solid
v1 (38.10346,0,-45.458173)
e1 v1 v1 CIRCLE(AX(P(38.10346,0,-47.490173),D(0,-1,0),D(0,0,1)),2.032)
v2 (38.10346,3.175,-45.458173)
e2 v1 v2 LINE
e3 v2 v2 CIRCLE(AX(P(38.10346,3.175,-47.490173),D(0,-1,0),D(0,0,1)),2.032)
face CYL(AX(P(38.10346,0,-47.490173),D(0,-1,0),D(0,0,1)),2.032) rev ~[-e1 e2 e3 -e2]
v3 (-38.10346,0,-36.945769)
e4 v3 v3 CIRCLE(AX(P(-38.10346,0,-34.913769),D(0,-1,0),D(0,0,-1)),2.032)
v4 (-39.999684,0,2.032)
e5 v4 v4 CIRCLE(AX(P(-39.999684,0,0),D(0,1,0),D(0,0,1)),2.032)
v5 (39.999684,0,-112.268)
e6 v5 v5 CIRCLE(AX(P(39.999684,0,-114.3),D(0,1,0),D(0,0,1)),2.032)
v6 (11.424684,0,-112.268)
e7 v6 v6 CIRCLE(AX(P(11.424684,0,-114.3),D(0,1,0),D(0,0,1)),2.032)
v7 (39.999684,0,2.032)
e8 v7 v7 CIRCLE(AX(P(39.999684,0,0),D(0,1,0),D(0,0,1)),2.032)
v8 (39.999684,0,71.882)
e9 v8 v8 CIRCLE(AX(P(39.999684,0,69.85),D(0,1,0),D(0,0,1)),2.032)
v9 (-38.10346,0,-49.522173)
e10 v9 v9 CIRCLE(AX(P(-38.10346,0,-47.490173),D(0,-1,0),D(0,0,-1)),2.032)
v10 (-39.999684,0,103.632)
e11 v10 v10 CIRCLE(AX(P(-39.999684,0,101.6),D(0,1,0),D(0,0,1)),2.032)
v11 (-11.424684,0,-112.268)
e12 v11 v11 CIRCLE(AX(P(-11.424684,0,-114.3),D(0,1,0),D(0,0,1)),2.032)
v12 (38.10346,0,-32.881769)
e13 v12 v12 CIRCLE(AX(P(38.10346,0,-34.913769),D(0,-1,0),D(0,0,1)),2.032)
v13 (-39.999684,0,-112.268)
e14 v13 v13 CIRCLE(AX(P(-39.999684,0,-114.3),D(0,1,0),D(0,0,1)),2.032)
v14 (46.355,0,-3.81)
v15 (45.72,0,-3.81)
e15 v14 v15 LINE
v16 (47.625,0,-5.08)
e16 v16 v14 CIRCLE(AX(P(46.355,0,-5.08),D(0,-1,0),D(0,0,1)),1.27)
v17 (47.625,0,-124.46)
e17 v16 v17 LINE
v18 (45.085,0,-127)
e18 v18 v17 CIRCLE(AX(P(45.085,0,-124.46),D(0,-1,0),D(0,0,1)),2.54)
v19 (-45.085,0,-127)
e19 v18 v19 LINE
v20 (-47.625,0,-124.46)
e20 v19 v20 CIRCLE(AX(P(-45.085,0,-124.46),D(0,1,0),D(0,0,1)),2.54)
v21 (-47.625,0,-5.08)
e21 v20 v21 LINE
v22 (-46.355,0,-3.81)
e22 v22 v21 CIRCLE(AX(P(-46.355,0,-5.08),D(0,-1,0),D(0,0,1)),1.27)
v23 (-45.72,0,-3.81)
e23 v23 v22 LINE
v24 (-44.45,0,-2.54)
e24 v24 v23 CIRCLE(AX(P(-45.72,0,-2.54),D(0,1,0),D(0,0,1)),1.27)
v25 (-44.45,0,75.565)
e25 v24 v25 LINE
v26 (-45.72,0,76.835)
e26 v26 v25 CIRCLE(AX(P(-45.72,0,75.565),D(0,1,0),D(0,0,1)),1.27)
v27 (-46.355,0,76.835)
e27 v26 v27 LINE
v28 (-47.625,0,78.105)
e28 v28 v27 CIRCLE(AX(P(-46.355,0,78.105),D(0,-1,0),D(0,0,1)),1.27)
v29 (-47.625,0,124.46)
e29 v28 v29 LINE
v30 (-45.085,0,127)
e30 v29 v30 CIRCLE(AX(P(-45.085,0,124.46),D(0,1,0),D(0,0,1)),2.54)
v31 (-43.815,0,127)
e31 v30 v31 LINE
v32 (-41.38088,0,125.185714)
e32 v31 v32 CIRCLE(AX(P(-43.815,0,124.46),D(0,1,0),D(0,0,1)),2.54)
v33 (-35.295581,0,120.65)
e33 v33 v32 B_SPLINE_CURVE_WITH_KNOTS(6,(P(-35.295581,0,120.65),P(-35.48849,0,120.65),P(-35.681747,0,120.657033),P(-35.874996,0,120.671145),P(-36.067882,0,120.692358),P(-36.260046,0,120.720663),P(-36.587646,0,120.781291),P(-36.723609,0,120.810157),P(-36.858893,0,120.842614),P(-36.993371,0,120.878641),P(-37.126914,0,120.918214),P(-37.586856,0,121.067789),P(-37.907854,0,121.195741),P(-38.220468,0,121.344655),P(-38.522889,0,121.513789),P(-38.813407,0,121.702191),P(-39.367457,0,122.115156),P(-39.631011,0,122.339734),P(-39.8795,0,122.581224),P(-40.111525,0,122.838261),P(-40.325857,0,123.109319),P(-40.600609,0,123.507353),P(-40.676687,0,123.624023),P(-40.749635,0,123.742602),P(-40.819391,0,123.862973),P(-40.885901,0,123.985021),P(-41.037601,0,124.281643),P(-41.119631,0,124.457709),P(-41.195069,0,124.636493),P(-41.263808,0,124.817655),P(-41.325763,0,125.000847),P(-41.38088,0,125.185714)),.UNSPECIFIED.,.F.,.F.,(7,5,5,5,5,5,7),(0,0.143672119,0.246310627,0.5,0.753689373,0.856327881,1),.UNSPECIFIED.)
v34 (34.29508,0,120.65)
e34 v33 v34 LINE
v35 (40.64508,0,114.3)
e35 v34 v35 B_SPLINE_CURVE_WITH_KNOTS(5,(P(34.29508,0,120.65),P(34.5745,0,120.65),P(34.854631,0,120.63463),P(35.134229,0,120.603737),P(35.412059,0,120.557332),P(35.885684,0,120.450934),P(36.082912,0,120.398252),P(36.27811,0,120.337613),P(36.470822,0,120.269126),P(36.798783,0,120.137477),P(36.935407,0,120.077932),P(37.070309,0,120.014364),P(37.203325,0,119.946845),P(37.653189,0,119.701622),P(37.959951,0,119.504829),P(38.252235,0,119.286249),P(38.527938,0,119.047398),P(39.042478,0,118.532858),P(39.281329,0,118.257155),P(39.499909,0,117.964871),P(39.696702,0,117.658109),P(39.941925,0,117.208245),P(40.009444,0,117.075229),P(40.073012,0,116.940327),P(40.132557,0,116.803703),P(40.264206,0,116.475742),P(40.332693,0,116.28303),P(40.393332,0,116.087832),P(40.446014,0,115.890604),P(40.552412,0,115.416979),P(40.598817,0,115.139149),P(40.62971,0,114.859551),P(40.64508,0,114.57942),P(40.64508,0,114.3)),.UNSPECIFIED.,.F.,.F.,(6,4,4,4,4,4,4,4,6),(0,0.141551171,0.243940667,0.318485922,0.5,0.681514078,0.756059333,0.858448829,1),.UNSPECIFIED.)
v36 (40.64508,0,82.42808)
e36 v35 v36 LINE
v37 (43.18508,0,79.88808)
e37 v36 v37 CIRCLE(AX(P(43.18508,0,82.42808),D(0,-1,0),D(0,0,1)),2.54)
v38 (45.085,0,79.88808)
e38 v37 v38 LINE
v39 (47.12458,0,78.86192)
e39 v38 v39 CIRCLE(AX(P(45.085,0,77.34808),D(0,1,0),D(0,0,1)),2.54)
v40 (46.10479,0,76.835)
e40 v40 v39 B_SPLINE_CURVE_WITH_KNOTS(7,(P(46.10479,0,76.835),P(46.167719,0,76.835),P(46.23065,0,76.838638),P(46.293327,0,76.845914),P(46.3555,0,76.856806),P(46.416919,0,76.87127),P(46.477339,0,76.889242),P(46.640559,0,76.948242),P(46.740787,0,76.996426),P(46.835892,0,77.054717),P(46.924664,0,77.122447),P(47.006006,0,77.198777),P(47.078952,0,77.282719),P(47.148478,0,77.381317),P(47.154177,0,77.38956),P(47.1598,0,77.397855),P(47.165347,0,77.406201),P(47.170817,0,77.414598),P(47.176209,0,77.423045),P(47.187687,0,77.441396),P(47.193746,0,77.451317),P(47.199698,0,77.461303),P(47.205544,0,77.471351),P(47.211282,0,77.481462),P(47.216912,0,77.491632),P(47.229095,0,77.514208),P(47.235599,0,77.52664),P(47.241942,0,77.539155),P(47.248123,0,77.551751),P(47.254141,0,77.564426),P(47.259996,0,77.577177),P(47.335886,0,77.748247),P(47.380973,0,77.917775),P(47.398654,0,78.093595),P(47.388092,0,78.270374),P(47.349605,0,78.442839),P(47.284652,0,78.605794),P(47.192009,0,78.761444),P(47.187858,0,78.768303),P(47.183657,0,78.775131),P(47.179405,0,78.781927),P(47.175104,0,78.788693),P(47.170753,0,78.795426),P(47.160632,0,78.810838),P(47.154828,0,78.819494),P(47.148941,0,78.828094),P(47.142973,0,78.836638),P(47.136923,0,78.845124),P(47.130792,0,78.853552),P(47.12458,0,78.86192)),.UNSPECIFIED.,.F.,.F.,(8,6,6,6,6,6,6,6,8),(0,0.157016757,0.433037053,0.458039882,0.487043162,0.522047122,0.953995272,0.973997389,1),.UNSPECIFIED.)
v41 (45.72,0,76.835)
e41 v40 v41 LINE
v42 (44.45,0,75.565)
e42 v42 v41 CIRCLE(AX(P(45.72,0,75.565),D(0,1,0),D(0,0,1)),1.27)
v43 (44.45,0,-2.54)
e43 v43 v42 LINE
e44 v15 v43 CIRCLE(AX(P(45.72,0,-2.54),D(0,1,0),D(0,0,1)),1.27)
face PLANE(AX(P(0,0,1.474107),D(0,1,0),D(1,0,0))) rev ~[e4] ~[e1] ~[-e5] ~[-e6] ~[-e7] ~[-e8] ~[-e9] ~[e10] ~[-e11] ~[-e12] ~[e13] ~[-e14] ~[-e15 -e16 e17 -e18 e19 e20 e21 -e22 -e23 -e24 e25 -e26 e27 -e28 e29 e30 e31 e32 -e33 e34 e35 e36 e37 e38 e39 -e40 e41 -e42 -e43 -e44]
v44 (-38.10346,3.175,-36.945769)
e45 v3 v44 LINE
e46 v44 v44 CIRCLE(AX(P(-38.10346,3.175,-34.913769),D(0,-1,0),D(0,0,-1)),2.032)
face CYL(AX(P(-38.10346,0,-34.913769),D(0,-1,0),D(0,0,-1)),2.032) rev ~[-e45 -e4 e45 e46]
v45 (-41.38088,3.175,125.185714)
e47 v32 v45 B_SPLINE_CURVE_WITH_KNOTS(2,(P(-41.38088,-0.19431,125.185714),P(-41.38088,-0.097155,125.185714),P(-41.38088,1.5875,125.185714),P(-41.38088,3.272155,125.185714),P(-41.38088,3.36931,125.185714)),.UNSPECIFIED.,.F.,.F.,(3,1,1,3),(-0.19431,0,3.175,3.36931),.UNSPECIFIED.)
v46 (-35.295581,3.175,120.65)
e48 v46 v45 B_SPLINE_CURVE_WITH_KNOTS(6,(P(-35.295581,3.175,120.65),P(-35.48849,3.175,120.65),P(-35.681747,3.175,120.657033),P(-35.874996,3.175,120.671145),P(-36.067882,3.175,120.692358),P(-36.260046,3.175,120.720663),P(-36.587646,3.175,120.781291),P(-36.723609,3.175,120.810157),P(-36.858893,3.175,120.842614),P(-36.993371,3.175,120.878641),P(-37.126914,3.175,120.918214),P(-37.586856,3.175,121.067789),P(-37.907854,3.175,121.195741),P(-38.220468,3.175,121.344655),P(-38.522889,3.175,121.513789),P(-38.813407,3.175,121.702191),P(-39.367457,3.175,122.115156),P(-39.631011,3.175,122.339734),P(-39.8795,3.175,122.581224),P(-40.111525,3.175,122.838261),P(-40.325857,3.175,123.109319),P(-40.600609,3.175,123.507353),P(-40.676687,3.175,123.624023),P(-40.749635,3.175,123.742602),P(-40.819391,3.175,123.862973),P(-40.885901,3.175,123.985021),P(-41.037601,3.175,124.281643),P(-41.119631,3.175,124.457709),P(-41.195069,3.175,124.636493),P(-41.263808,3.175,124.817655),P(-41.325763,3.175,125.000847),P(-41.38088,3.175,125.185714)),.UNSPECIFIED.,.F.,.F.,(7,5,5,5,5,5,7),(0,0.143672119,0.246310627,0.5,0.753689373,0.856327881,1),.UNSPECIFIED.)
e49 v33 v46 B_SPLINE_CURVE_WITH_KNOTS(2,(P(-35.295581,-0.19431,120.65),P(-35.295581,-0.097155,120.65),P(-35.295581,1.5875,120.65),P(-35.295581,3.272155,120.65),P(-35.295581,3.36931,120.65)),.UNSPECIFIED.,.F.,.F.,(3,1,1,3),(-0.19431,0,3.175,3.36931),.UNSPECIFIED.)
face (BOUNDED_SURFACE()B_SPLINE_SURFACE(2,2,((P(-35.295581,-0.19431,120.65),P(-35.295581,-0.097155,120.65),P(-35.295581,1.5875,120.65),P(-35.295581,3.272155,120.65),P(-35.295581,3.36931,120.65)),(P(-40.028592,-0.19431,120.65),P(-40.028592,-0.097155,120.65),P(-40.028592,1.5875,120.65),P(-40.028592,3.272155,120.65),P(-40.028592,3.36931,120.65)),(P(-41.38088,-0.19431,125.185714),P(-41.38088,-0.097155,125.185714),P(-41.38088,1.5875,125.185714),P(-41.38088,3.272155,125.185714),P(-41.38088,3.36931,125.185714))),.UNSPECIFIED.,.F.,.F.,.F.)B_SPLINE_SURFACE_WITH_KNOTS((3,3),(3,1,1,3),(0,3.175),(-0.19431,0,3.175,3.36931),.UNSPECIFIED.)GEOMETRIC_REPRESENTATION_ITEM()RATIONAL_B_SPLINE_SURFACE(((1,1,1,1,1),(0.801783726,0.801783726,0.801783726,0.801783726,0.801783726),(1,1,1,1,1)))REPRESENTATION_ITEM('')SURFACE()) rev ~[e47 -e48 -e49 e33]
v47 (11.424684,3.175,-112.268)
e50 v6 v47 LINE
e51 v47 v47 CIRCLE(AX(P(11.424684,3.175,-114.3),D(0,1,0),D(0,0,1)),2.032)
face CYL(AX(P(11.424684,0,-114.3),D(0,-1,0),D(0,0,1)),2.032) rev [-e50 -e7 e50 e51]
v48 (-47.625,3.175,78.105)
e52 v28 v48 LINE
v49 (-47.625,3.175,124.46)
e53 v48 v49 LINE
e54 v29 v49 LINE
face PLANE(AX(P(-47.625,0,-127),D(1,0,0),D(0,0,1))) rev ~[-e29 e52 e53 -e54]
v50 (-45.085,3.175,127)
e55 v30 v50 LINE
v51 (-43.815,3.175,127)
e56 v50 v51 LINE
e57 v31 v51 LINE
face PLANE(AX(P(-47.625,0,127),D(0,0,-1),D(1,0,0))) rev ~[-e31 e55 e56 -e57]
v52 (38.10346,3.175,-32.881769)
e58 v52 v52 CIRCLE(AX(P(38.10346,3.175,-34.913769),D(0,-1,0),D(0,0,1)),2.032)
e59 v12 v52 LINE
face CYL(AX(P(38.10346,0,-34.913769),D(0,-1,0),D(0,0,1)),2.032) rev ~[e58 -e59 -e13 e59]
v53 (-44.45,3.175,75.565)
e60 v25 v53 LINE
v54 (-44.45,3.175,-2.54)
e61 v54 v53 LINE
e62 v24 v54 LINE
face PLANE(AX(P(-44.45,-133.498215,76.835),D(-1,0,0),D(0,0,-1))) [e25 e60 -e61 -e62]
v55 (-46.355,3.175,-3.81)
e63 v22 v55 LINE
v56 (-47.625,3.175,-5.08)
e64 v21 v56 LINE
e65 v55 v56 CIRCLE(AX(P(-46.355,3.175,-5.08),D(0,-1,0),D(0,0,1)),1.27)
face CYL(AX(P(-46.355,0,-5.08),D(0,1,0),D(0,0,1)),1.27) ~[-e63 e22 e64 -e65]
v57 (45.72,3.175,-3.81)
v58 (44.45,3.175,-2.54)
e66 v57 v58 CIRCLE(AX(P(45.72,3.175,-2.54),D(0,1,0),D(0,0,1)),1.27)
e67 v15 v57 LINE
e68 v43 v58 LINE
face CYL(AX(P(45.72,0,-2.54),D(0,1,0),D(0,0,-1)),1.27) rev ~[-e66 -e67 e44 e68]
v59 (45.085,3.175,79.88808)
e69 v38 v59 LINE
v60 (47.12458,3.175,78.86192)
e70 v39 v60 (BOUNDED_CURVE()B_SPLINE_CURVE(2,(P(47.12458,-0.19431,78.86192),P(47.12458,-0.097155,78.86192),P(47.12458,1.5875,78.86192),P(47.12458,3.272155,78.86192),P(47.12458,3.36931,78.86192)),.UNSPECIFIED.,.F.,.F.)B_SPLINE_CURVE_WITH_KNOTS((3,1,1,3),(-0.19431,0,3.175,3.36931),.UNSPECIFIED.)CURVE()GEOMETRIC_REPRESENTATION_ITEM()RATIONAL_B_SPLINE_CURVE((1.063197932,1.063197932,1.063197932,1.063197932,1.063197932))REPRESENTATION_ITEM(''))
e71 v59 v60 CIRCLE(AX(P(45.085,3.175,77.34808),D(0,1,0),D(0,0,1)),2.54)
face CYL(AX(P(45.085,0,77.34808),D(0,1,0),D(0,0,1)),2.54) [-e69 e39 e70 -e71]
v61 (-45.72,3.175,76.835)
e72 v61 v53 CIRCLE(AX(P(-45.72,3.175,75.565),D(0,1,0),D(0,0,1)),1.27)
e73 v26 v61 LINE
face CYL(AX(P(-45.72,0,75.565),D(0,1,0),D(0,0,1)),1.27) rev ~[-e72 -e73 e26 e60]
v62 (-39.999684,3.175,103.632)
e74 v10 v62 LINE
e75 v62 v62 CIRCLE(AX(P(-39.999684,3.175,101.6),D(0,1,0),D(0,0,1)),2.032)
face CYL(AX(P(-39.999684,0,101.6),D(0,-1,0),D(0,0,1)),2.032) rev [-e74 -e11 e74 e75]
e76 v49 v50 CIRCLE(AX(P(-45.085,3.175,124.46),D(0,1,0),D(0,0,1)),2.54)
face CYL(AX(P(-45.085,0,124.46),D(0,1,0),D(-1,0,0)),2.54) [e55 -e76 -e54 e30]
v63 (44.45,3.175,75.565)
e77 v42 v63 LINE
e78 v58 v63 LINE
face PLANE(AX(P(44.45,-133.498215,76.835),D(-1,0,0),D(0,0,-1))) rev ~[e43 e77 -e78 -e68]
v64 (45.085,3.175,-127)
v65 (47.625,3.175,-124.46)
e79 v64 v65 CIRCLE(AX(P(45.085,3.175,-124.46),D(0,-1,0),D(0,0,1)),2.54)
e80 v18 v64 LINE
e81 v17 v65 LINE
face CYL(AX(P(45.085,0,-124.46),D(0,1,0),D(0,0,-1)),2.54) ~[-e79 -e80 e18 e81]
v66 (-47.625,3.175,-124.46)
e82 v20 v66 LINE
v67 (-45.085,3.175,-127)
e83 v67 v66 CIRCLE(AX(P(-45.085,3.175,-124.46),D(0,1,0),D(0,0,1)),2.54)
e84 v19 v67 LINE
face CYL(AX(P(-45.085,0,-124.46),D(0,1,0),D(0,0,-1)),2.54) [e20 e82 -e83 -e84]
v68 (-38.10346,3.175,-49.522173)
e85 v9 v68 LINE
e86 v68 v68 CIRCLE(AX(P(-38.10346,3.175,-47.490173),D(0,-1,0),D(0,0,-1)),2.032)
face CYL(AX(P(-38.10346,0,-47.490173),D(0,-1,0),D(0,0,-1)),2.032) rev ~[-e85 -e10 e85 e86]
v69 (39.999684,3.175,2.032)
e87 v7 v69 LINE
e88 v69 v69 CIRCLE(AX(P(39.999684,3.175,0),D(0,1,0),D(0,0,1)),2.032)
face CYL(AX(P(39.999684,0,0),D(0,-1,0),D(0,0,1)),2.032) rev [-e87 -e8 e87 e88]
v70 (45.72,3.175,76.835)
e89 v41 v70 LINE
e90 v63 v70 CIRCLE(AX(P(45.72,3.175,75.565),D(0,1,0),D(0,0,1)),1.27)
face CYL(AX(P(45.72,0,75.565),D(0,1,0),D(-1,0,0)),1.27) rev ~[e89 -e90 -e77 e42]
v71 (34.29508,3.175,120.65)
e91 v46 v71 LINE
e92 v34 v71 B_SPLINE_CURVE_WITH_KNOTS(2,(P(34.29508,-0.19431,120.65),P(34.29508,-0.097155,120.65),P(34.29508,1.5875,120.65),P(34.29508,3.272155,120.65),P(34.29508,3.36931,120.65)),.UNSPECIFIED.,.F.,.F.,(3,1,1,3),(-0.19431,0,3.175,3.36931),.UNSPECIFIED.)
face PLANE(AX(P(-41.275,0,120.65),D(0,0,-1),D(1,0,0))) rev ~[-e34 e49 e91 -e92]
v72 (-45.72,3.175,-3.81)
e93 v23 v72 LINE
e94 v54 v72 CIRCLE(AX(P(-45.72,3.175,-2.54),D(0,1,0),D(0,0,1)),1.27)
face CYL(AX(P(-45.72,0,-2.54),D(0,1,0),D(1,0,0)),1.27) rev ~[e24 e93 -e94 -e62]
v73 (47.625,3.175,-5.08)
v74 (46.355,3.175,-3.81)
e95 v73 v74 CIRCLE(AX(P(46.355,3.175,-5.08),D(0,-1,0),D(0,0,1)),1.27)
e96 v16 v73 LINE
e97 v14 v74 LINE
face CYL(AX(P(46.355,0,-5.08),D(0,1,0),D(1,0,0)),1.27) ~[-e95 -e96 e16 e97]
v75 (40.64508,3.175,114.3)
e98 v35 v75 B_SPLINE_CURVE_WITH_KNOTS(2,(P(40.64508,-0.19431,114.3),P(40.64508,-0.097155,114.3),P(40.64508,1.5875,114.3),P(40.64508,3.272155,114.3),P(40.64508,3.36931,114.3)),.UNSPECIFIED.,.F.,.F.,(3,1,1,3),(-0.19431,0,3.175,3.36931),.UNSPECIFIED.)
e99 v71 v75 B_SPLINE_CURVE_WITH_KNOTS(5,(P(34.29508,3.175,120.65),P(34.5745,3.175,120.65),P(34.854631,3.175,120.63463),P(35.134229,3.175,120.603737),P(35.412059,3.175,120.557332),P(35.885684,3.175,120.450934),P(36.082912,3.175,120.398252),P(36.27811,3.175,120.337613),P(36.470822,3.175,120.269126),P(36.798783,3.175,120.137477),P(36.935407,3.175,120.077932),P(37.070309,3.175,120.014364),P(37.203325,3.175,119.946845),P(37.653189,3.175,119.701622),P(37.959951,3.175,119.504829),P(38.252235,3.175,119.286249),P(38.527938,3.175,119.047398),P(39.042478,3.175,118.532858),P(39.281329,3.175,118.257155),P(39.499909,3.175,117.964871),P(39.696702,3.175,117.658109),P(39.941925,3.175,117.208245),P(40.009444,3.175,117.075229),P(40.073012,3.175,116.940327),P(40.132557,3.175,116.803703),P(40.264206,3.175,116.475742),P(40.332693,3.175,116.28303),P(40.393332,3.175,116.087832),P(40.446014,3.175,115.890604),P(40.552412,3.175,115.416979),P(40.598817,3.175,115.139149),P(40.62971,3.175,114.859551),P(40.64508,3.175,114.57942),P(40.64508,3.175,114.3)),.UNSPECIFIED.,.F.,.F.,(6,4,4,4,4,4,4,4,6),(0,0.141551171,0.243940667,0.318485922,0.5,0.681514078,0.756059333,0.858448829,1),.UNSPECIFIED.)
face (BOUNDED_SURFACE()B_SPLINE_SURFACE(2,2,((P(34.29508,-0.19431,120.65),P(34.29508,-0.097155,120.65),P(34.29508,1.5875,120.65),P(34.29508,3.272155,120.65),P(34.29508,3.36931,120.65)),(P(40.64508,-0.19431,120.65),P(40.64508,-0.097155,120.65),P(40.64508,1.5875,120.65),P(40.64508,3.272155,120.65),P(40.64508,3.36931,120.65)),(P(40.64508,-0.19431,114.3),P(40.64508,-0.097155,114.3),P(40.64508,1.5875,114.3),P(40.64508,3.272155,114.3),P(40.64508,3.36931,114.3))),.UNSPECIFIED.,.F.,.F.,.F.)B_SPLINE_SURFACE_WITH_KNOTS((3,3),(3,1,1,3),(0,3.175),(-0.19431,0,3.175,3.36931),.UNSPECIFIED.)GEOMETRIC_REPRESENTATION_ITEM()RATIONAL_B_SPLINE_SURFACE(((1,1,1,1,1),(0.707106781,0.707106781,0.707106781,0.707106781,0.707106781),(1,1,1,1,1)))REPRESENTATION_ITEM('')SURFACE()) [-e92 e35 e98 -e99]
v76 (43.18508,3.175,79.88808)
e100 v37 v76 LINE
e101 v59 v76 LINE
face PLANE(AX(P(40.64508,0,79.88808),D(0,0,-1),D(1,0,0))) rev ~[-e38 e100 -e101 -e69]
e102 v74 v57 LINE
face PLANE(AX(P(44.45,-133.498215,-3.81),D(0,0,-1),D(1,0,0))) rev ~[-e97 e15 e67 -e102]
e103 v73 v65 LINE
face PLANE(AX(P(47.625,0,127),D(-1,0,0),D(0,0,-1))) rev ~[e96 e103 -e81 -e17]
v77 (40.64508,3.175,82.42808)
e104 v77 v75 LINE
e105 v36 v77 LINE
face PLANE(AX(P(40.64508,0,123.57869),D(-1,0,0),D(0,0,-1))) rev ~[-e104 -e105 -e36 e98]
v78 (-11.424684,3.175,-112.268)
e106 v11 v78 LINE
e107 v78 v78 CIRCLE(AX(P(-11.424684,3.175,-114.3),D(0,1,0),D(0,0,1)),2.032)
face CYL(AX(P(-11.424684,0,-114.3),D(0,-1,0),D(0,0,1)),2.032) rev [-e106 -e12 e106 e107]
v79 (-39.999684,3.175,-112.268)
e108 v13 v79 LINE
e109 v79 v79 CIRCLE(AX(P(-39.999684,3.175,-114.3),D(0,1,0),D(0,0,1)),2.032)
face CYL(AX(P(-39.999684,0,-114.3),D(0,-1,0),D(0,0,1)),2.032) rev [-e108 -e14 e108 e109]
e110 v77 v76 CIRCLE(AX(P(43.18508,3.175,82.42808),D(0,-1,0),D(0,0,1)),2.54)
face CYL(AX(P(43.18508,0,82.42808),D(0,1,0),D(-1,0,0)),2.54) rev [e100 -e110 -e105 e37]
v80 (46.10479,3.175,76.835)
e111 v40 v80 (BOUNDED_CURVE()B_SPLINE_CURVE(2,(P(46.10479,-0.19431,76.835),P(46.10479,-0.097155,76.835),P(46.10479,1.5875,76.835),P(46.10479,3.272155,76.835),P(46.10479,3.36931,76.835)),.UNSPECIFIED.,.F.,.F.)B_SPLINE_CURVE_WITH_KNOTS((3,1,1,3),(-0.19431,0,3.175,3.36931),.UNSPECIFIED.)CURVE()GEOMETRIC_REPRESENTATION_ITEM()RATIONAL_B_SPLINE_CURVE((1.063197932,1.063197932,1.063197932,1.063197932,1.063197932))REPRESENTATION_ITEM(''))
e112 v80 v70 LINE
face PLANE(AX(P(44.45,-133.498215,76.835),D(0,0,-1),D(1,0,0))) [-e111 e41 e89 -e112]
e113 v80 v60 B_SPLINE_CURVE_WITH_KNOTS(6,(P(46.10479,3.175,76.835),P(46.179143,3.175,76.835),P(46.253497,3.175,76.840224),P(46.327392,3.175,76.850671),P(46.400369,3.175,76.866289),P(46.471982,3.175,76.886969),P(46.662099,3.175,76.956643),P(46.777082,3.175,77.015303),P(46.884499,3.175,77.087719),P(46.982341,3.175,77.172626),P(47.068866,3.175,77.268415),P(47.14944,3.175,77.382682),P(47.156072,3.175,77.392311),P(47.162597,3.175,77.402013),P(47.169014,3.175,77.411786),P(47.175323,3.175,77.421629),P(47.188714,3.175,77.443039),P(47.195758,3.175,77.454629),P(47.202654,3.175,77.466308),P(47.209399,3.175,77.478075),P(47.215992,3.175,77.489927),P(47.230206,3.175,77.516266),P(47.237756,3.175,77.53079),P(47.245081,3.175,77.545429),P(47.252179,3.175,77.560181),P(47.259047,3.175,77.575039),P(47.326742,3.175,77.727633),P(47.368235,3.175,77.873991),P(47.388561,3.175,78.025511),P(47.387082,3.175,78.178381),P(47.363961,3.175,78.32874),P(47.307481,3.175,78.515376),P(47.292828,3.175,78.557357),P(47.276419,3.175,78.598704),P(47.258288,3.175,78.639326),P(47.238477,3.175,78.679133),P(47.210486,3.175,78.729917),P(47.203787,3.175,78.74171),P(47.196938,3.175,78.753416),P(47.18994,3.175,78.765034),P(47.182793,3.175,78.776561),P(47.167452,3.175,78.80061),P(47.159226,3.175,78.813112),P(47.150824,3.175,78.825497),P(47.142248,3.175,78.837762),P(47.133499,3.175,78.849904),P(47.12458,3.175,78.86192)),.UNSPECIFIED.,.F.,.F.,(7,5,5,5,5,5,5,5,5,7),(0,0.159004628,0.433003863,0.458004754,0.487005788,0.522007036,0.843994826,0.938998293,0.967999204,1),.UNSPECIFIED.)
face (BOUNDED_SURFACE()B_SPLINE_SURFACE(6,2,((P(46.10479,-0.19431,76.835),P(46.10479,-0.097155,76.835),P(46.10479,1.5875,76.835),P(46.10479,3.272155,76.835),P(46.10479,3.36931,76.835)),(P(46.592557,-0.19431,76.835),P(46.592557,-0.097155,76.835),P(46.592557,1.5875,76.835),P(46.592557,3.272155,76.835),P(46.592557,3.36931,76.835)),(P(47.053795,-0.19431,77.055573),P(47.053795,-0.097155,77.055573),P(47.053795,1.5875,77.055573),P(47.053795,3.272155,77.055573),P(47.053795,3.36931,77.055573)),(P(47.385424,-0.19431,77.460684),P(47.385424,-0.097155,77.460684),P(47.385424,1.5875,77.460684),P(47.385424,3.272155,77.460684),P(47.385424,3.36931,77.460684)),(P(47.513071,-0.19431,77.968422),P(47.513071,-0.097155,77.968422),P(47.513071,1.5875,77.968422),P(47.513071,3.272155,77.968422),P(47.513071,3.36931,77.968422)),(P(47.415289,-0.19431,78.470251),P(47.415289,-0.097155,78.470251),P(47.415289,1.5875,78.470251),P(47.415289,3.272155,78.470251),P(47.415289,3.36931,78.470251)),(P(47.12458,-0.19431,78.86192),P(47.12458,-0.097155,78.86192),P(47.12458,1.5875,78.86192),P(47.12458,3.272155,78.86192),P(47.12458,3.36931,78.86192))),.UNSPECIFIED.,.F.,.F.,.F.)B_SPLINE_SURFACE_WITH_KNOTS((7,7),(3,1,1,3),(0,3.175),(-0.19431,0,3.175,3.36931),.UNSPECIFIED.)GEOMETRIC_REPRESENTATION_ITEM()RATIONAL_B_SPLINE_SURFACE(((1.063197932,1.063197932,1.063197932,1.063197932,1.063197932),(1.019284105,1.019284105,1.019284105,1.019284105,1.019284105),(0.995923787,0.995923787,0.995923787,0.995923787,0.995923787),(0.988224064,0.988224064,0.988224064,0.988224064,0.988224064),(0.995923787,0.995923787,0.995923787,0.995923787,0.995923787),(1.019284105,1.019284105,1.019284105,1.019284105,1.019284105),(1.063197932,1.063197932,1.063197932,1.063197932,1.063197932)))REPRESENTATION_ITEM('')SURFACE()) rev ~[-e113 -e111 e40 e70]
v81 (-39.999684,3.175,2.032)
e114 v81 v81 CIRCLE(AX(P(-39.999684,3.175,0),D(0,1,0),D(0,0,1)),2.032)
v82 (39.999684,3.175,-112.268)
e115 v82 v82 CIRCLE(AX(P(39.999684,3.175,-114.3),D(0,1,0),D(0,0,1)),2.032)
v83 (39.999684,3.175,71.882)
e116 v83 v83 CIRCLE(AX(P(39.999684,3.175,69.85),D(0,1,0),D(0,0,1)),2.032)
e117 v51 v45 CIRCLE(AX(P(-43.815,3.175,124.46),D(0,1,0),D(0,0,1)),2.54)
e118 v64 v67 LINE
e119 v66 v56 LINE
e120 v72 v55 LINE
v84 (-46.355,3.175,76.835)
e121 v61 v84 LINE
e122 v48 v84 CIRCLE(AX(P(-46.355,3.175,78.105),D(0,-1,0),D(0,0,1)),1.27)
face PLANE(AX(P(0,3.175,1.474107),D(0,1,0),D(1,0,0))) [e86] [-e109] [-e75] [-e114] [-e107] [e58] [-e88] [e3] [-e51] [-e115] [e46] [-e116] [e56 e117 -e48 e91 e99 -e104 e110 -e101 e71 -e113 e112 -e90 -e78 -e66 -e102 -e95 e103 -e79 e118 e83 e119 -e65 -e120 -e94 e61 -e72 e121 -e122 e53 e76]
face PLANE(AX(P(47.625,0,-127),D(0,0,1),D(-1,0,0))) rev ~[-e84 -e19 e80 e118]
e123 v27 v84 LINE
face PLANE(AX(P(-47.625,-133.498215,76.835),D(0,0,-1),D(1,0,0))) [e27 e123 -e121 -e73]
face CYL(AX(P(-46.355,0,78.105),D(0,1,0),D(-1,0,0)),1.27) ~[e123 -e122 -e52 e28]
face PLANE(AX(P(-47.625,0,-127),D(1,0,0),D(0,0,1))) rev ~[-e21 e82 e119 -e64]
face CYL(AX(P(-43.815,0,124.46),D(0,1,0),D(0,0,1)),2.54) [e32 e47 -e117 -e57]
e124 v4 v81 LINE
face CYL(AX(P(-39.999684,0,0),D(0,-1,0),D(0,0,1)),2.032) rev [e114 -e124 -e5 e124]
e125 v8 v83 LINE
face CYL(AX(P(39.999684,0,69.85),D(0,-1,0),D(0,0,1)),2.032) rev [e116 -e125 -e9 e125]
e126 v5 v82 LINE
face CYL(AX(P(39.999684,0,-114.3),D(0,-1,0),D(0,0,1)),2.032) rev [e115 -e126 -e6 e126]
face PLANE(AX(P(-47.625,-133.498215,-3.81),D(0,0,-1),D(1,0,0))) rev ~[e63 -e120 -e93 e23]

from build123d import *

# Parameters (mm, degrees)
SKETCH1_R               = 2.032
BOSS_EXTRUDE1_DEPTH     = 3.175
FILLET1_R               = 2.54
FILLET2_R               = 2.54
FILLET3_R               = 6.35
CUT_EXTRUDE1_DEPTH      = 136.673215063
FILLET4_R               = 6.35
FILLET5_R               = 2.54
SKETCH3_R               = 2.032
CUT_EXTRUDE2_DEPTH      = 136.673215063
CUT_EXTRUDE3_DEPTH      = 136.673215063
CUT_EXTRUDE3_DEPTH_BACK = 136.673215063
SKETCH4_W               = 3.175
SKETCH4_H               = 80.645
FILLET6_R               = 1.27


with BuildPart() as part:
    # Sketch1 → Boss-Extrude1 (new body)
    with BuildSketch(Plane(origin=(0, 0, 0), x_dir=(1, 0, 0), z_dir=(0, 1, 0))):
        Polygon((47.625, 127), (-47.625, 127), (-47.625, -127), (-41.275, -127), (-41.275, -120.65), (41.275, -120.65), (41.275, -127), (47.625, -127), align=None)
        with Locations(Location((-39.999684148, -101.6, 0), (0, 0, 270))):
            Circle(SKETCH1_R, mode=Mode.SUBTRACT)
        with Locations(Location((39.999684148, -69.85, 0), (0, 0, 270))):
            Circle(SKETCH1_R, mode=Mode.SUBTRACT)
        with Locations(Location((-39.999684148, 0, 0), (0, 0, 270))):
            Circle(SKETCH1_R, mode=Mode.SUBTRACT)
        with Locations(Location((-39.999684148, 114.3, 0), (0, 0, 270))):
            Circle(SKETCH1_R, mode=Mode.SUBTRACT)
        with Locations(Location((-11.424684148, 114.3, 0), (0, 0, 270))):
            Circle(SKETCH1_R, mode=Mode.SUBTRACT)
        with Locations(Location((39.999684148, 0, 0), (0, 0, 270))):
            Circle(SKETCH1_R, mode=Mode.SUBTRACT)
        with Locations(Location((11.424684148, 114.3, 0), (0, 0, 270))):
            Circle(SKETCH1_R, mode=Mode.SUBTRACT)
        with Locations(Location((39.999684148, 114.3, 0), (0, 0, 270))):
            Circle(SKETCH1_R, mode=Mode.SUBTRACT)
    extrude(amount=BOSS_EXTRUDE1_DEPTH)

    # Fillet1
    fillet1_edges = [part.edges().sort_by_distance(p)[0] for p in [
        (-47.625, 1.5875, 127),
        (-47.625, 1.5875, -127),
        (47.625, 1.5875, -127),
        (47.625, 1.5875, 127),
    ]]
    fillet(fillet1_edges, radius=FILLET1_R)

    # Fillet2
    fillet2_edges = [part.edges().sort_by_distance(p)[0] for p in [
        (-41.275, 1.5875, 127),
        (41.275, 1.5875, 127),
    ]]
    fillet(fillet2_edges, radius=FILLET2_R)

    # Fillet3
    fillet3_edges = [part.edges().sort_by_distance(p)[0] for p in [
        (41.275, 1.5875, 120.65),
        (-41.275, 1.5875, 120.65),
    ]]
    fillet(fillet3_edges, radius=FILLET3_R)

    # Sketch2 → Cut-Extrude1 (cut, through all)
    with BuildSketch(Plane.XZ):
        with BuildLine():
            Line((40.64508, 123.578690235), (40.64508, 79.88808))
            Line((40.64508, 79.88808), (47.625, 79.88808))
            Line((47.625, 79.88808), (47.625, 124.46))
            ThreePointArc((47.625, 124.46), (46.881051224, 126.256051224), (45.085, 127))
            Line((45.085, 127), (43.815, 127))
            ThreePointArc((43.815, 127), (42.297059666, 126.496530663), (41.380880287, 125.185714286))
            ThreePointArc((41.380880287, 125.185714286), (41.069166069, 124.356476684), (40.64508, 123.578690235))
        make_face()
    extrude(amount=-CUT_EXTRUDE1_DEPTH, mode=Mode.SUBTRACT)

    # Fillet4
    fillet4_edges = [part.edges().sort_by_distance(p)[0] for p in [
        (40.64508, 1.5875, 123.578690235),
    ]]
    fillet(fillet4_edges, radius=FILLET4_R)

    # Fillet5
    fillet5_edges = [part.edges().sort_by_distance(p)[0] for p in [
        (47.625, 1.5875, 79.88808),
        (40.64508, 1.5875, 79.88808),
    ]]
    fillet(fillet5_edges, radius=FILLET5_R)

    # Sketch3 → Cut-Extrude2 (cut, through all)
    with BuildSketch(Plane.XZ):
        with Locations(Location((-38.103460155, -34.913768806, 0), (0, 0, 270))):
            Circle(SKETCH3_R)
        with Locations(Location((-38.103460155, -47.490173279, 0), (0, 0, 270))):
            Circle(SKETCH3_R)
        with Locations(Location((38.103460155, -47.490173279, 0), (0, 0, 90))):
            Circle(SKETCH3_R)
        with Locations(Location((38.103460155, -34.913768806, 0), (0, 0, 90))):
            Circle(SKETCH3_R)
    extrude(amount=-CUT_EXTRUDE2_DEPTH, mode=Mode.SUBTRACT)

    # Sketch4 → Cut-Extrude3 (cut, two sides: drawn at the far end of the back side and taken through both)
    with BuildSketch(Plane(origin=(0, 3.175, 0), x_dir=(1, 0, 0), z_dir=(0, 1, 0)).offset(-CUT_EXTRUDE3_DEPTH_BACK)):
        with Locations((-46.0375, -36.5125)):
            Rectangle(SKETCH4_W, SKETCH4_H)
        with Locations((46.0375, -36.5125)):
            Rectangle(SKETCH4_W, SKETCH4_H)
    extrude(amount=CUT_EXTRUDE3_DEPTH + CUT_EXTRUDE3_DEPTH_BACK, mode=Mode.SUBTRACT)

    # Fillet6
    fillet6_edges = [part.edges().sort_by_distance(p)[0] for p in [
        (-44.45, 1.5875, -3.81),
        (-47.625, 1.5875, -3.81),
        (-47.625, 1.5875, 76.835),
        (-44.45, 1.5875, 76.835),
        (44.45, 1.5875, 76.835),
        (47.625, 1.5875, 76.835),
        (44.45, 1.5875, -3.81),
        (47.625, 1.5875, -3.81),
    ]]
    fillet(fillet6_edges, radius=FILLET6_R)


solid = part.part
